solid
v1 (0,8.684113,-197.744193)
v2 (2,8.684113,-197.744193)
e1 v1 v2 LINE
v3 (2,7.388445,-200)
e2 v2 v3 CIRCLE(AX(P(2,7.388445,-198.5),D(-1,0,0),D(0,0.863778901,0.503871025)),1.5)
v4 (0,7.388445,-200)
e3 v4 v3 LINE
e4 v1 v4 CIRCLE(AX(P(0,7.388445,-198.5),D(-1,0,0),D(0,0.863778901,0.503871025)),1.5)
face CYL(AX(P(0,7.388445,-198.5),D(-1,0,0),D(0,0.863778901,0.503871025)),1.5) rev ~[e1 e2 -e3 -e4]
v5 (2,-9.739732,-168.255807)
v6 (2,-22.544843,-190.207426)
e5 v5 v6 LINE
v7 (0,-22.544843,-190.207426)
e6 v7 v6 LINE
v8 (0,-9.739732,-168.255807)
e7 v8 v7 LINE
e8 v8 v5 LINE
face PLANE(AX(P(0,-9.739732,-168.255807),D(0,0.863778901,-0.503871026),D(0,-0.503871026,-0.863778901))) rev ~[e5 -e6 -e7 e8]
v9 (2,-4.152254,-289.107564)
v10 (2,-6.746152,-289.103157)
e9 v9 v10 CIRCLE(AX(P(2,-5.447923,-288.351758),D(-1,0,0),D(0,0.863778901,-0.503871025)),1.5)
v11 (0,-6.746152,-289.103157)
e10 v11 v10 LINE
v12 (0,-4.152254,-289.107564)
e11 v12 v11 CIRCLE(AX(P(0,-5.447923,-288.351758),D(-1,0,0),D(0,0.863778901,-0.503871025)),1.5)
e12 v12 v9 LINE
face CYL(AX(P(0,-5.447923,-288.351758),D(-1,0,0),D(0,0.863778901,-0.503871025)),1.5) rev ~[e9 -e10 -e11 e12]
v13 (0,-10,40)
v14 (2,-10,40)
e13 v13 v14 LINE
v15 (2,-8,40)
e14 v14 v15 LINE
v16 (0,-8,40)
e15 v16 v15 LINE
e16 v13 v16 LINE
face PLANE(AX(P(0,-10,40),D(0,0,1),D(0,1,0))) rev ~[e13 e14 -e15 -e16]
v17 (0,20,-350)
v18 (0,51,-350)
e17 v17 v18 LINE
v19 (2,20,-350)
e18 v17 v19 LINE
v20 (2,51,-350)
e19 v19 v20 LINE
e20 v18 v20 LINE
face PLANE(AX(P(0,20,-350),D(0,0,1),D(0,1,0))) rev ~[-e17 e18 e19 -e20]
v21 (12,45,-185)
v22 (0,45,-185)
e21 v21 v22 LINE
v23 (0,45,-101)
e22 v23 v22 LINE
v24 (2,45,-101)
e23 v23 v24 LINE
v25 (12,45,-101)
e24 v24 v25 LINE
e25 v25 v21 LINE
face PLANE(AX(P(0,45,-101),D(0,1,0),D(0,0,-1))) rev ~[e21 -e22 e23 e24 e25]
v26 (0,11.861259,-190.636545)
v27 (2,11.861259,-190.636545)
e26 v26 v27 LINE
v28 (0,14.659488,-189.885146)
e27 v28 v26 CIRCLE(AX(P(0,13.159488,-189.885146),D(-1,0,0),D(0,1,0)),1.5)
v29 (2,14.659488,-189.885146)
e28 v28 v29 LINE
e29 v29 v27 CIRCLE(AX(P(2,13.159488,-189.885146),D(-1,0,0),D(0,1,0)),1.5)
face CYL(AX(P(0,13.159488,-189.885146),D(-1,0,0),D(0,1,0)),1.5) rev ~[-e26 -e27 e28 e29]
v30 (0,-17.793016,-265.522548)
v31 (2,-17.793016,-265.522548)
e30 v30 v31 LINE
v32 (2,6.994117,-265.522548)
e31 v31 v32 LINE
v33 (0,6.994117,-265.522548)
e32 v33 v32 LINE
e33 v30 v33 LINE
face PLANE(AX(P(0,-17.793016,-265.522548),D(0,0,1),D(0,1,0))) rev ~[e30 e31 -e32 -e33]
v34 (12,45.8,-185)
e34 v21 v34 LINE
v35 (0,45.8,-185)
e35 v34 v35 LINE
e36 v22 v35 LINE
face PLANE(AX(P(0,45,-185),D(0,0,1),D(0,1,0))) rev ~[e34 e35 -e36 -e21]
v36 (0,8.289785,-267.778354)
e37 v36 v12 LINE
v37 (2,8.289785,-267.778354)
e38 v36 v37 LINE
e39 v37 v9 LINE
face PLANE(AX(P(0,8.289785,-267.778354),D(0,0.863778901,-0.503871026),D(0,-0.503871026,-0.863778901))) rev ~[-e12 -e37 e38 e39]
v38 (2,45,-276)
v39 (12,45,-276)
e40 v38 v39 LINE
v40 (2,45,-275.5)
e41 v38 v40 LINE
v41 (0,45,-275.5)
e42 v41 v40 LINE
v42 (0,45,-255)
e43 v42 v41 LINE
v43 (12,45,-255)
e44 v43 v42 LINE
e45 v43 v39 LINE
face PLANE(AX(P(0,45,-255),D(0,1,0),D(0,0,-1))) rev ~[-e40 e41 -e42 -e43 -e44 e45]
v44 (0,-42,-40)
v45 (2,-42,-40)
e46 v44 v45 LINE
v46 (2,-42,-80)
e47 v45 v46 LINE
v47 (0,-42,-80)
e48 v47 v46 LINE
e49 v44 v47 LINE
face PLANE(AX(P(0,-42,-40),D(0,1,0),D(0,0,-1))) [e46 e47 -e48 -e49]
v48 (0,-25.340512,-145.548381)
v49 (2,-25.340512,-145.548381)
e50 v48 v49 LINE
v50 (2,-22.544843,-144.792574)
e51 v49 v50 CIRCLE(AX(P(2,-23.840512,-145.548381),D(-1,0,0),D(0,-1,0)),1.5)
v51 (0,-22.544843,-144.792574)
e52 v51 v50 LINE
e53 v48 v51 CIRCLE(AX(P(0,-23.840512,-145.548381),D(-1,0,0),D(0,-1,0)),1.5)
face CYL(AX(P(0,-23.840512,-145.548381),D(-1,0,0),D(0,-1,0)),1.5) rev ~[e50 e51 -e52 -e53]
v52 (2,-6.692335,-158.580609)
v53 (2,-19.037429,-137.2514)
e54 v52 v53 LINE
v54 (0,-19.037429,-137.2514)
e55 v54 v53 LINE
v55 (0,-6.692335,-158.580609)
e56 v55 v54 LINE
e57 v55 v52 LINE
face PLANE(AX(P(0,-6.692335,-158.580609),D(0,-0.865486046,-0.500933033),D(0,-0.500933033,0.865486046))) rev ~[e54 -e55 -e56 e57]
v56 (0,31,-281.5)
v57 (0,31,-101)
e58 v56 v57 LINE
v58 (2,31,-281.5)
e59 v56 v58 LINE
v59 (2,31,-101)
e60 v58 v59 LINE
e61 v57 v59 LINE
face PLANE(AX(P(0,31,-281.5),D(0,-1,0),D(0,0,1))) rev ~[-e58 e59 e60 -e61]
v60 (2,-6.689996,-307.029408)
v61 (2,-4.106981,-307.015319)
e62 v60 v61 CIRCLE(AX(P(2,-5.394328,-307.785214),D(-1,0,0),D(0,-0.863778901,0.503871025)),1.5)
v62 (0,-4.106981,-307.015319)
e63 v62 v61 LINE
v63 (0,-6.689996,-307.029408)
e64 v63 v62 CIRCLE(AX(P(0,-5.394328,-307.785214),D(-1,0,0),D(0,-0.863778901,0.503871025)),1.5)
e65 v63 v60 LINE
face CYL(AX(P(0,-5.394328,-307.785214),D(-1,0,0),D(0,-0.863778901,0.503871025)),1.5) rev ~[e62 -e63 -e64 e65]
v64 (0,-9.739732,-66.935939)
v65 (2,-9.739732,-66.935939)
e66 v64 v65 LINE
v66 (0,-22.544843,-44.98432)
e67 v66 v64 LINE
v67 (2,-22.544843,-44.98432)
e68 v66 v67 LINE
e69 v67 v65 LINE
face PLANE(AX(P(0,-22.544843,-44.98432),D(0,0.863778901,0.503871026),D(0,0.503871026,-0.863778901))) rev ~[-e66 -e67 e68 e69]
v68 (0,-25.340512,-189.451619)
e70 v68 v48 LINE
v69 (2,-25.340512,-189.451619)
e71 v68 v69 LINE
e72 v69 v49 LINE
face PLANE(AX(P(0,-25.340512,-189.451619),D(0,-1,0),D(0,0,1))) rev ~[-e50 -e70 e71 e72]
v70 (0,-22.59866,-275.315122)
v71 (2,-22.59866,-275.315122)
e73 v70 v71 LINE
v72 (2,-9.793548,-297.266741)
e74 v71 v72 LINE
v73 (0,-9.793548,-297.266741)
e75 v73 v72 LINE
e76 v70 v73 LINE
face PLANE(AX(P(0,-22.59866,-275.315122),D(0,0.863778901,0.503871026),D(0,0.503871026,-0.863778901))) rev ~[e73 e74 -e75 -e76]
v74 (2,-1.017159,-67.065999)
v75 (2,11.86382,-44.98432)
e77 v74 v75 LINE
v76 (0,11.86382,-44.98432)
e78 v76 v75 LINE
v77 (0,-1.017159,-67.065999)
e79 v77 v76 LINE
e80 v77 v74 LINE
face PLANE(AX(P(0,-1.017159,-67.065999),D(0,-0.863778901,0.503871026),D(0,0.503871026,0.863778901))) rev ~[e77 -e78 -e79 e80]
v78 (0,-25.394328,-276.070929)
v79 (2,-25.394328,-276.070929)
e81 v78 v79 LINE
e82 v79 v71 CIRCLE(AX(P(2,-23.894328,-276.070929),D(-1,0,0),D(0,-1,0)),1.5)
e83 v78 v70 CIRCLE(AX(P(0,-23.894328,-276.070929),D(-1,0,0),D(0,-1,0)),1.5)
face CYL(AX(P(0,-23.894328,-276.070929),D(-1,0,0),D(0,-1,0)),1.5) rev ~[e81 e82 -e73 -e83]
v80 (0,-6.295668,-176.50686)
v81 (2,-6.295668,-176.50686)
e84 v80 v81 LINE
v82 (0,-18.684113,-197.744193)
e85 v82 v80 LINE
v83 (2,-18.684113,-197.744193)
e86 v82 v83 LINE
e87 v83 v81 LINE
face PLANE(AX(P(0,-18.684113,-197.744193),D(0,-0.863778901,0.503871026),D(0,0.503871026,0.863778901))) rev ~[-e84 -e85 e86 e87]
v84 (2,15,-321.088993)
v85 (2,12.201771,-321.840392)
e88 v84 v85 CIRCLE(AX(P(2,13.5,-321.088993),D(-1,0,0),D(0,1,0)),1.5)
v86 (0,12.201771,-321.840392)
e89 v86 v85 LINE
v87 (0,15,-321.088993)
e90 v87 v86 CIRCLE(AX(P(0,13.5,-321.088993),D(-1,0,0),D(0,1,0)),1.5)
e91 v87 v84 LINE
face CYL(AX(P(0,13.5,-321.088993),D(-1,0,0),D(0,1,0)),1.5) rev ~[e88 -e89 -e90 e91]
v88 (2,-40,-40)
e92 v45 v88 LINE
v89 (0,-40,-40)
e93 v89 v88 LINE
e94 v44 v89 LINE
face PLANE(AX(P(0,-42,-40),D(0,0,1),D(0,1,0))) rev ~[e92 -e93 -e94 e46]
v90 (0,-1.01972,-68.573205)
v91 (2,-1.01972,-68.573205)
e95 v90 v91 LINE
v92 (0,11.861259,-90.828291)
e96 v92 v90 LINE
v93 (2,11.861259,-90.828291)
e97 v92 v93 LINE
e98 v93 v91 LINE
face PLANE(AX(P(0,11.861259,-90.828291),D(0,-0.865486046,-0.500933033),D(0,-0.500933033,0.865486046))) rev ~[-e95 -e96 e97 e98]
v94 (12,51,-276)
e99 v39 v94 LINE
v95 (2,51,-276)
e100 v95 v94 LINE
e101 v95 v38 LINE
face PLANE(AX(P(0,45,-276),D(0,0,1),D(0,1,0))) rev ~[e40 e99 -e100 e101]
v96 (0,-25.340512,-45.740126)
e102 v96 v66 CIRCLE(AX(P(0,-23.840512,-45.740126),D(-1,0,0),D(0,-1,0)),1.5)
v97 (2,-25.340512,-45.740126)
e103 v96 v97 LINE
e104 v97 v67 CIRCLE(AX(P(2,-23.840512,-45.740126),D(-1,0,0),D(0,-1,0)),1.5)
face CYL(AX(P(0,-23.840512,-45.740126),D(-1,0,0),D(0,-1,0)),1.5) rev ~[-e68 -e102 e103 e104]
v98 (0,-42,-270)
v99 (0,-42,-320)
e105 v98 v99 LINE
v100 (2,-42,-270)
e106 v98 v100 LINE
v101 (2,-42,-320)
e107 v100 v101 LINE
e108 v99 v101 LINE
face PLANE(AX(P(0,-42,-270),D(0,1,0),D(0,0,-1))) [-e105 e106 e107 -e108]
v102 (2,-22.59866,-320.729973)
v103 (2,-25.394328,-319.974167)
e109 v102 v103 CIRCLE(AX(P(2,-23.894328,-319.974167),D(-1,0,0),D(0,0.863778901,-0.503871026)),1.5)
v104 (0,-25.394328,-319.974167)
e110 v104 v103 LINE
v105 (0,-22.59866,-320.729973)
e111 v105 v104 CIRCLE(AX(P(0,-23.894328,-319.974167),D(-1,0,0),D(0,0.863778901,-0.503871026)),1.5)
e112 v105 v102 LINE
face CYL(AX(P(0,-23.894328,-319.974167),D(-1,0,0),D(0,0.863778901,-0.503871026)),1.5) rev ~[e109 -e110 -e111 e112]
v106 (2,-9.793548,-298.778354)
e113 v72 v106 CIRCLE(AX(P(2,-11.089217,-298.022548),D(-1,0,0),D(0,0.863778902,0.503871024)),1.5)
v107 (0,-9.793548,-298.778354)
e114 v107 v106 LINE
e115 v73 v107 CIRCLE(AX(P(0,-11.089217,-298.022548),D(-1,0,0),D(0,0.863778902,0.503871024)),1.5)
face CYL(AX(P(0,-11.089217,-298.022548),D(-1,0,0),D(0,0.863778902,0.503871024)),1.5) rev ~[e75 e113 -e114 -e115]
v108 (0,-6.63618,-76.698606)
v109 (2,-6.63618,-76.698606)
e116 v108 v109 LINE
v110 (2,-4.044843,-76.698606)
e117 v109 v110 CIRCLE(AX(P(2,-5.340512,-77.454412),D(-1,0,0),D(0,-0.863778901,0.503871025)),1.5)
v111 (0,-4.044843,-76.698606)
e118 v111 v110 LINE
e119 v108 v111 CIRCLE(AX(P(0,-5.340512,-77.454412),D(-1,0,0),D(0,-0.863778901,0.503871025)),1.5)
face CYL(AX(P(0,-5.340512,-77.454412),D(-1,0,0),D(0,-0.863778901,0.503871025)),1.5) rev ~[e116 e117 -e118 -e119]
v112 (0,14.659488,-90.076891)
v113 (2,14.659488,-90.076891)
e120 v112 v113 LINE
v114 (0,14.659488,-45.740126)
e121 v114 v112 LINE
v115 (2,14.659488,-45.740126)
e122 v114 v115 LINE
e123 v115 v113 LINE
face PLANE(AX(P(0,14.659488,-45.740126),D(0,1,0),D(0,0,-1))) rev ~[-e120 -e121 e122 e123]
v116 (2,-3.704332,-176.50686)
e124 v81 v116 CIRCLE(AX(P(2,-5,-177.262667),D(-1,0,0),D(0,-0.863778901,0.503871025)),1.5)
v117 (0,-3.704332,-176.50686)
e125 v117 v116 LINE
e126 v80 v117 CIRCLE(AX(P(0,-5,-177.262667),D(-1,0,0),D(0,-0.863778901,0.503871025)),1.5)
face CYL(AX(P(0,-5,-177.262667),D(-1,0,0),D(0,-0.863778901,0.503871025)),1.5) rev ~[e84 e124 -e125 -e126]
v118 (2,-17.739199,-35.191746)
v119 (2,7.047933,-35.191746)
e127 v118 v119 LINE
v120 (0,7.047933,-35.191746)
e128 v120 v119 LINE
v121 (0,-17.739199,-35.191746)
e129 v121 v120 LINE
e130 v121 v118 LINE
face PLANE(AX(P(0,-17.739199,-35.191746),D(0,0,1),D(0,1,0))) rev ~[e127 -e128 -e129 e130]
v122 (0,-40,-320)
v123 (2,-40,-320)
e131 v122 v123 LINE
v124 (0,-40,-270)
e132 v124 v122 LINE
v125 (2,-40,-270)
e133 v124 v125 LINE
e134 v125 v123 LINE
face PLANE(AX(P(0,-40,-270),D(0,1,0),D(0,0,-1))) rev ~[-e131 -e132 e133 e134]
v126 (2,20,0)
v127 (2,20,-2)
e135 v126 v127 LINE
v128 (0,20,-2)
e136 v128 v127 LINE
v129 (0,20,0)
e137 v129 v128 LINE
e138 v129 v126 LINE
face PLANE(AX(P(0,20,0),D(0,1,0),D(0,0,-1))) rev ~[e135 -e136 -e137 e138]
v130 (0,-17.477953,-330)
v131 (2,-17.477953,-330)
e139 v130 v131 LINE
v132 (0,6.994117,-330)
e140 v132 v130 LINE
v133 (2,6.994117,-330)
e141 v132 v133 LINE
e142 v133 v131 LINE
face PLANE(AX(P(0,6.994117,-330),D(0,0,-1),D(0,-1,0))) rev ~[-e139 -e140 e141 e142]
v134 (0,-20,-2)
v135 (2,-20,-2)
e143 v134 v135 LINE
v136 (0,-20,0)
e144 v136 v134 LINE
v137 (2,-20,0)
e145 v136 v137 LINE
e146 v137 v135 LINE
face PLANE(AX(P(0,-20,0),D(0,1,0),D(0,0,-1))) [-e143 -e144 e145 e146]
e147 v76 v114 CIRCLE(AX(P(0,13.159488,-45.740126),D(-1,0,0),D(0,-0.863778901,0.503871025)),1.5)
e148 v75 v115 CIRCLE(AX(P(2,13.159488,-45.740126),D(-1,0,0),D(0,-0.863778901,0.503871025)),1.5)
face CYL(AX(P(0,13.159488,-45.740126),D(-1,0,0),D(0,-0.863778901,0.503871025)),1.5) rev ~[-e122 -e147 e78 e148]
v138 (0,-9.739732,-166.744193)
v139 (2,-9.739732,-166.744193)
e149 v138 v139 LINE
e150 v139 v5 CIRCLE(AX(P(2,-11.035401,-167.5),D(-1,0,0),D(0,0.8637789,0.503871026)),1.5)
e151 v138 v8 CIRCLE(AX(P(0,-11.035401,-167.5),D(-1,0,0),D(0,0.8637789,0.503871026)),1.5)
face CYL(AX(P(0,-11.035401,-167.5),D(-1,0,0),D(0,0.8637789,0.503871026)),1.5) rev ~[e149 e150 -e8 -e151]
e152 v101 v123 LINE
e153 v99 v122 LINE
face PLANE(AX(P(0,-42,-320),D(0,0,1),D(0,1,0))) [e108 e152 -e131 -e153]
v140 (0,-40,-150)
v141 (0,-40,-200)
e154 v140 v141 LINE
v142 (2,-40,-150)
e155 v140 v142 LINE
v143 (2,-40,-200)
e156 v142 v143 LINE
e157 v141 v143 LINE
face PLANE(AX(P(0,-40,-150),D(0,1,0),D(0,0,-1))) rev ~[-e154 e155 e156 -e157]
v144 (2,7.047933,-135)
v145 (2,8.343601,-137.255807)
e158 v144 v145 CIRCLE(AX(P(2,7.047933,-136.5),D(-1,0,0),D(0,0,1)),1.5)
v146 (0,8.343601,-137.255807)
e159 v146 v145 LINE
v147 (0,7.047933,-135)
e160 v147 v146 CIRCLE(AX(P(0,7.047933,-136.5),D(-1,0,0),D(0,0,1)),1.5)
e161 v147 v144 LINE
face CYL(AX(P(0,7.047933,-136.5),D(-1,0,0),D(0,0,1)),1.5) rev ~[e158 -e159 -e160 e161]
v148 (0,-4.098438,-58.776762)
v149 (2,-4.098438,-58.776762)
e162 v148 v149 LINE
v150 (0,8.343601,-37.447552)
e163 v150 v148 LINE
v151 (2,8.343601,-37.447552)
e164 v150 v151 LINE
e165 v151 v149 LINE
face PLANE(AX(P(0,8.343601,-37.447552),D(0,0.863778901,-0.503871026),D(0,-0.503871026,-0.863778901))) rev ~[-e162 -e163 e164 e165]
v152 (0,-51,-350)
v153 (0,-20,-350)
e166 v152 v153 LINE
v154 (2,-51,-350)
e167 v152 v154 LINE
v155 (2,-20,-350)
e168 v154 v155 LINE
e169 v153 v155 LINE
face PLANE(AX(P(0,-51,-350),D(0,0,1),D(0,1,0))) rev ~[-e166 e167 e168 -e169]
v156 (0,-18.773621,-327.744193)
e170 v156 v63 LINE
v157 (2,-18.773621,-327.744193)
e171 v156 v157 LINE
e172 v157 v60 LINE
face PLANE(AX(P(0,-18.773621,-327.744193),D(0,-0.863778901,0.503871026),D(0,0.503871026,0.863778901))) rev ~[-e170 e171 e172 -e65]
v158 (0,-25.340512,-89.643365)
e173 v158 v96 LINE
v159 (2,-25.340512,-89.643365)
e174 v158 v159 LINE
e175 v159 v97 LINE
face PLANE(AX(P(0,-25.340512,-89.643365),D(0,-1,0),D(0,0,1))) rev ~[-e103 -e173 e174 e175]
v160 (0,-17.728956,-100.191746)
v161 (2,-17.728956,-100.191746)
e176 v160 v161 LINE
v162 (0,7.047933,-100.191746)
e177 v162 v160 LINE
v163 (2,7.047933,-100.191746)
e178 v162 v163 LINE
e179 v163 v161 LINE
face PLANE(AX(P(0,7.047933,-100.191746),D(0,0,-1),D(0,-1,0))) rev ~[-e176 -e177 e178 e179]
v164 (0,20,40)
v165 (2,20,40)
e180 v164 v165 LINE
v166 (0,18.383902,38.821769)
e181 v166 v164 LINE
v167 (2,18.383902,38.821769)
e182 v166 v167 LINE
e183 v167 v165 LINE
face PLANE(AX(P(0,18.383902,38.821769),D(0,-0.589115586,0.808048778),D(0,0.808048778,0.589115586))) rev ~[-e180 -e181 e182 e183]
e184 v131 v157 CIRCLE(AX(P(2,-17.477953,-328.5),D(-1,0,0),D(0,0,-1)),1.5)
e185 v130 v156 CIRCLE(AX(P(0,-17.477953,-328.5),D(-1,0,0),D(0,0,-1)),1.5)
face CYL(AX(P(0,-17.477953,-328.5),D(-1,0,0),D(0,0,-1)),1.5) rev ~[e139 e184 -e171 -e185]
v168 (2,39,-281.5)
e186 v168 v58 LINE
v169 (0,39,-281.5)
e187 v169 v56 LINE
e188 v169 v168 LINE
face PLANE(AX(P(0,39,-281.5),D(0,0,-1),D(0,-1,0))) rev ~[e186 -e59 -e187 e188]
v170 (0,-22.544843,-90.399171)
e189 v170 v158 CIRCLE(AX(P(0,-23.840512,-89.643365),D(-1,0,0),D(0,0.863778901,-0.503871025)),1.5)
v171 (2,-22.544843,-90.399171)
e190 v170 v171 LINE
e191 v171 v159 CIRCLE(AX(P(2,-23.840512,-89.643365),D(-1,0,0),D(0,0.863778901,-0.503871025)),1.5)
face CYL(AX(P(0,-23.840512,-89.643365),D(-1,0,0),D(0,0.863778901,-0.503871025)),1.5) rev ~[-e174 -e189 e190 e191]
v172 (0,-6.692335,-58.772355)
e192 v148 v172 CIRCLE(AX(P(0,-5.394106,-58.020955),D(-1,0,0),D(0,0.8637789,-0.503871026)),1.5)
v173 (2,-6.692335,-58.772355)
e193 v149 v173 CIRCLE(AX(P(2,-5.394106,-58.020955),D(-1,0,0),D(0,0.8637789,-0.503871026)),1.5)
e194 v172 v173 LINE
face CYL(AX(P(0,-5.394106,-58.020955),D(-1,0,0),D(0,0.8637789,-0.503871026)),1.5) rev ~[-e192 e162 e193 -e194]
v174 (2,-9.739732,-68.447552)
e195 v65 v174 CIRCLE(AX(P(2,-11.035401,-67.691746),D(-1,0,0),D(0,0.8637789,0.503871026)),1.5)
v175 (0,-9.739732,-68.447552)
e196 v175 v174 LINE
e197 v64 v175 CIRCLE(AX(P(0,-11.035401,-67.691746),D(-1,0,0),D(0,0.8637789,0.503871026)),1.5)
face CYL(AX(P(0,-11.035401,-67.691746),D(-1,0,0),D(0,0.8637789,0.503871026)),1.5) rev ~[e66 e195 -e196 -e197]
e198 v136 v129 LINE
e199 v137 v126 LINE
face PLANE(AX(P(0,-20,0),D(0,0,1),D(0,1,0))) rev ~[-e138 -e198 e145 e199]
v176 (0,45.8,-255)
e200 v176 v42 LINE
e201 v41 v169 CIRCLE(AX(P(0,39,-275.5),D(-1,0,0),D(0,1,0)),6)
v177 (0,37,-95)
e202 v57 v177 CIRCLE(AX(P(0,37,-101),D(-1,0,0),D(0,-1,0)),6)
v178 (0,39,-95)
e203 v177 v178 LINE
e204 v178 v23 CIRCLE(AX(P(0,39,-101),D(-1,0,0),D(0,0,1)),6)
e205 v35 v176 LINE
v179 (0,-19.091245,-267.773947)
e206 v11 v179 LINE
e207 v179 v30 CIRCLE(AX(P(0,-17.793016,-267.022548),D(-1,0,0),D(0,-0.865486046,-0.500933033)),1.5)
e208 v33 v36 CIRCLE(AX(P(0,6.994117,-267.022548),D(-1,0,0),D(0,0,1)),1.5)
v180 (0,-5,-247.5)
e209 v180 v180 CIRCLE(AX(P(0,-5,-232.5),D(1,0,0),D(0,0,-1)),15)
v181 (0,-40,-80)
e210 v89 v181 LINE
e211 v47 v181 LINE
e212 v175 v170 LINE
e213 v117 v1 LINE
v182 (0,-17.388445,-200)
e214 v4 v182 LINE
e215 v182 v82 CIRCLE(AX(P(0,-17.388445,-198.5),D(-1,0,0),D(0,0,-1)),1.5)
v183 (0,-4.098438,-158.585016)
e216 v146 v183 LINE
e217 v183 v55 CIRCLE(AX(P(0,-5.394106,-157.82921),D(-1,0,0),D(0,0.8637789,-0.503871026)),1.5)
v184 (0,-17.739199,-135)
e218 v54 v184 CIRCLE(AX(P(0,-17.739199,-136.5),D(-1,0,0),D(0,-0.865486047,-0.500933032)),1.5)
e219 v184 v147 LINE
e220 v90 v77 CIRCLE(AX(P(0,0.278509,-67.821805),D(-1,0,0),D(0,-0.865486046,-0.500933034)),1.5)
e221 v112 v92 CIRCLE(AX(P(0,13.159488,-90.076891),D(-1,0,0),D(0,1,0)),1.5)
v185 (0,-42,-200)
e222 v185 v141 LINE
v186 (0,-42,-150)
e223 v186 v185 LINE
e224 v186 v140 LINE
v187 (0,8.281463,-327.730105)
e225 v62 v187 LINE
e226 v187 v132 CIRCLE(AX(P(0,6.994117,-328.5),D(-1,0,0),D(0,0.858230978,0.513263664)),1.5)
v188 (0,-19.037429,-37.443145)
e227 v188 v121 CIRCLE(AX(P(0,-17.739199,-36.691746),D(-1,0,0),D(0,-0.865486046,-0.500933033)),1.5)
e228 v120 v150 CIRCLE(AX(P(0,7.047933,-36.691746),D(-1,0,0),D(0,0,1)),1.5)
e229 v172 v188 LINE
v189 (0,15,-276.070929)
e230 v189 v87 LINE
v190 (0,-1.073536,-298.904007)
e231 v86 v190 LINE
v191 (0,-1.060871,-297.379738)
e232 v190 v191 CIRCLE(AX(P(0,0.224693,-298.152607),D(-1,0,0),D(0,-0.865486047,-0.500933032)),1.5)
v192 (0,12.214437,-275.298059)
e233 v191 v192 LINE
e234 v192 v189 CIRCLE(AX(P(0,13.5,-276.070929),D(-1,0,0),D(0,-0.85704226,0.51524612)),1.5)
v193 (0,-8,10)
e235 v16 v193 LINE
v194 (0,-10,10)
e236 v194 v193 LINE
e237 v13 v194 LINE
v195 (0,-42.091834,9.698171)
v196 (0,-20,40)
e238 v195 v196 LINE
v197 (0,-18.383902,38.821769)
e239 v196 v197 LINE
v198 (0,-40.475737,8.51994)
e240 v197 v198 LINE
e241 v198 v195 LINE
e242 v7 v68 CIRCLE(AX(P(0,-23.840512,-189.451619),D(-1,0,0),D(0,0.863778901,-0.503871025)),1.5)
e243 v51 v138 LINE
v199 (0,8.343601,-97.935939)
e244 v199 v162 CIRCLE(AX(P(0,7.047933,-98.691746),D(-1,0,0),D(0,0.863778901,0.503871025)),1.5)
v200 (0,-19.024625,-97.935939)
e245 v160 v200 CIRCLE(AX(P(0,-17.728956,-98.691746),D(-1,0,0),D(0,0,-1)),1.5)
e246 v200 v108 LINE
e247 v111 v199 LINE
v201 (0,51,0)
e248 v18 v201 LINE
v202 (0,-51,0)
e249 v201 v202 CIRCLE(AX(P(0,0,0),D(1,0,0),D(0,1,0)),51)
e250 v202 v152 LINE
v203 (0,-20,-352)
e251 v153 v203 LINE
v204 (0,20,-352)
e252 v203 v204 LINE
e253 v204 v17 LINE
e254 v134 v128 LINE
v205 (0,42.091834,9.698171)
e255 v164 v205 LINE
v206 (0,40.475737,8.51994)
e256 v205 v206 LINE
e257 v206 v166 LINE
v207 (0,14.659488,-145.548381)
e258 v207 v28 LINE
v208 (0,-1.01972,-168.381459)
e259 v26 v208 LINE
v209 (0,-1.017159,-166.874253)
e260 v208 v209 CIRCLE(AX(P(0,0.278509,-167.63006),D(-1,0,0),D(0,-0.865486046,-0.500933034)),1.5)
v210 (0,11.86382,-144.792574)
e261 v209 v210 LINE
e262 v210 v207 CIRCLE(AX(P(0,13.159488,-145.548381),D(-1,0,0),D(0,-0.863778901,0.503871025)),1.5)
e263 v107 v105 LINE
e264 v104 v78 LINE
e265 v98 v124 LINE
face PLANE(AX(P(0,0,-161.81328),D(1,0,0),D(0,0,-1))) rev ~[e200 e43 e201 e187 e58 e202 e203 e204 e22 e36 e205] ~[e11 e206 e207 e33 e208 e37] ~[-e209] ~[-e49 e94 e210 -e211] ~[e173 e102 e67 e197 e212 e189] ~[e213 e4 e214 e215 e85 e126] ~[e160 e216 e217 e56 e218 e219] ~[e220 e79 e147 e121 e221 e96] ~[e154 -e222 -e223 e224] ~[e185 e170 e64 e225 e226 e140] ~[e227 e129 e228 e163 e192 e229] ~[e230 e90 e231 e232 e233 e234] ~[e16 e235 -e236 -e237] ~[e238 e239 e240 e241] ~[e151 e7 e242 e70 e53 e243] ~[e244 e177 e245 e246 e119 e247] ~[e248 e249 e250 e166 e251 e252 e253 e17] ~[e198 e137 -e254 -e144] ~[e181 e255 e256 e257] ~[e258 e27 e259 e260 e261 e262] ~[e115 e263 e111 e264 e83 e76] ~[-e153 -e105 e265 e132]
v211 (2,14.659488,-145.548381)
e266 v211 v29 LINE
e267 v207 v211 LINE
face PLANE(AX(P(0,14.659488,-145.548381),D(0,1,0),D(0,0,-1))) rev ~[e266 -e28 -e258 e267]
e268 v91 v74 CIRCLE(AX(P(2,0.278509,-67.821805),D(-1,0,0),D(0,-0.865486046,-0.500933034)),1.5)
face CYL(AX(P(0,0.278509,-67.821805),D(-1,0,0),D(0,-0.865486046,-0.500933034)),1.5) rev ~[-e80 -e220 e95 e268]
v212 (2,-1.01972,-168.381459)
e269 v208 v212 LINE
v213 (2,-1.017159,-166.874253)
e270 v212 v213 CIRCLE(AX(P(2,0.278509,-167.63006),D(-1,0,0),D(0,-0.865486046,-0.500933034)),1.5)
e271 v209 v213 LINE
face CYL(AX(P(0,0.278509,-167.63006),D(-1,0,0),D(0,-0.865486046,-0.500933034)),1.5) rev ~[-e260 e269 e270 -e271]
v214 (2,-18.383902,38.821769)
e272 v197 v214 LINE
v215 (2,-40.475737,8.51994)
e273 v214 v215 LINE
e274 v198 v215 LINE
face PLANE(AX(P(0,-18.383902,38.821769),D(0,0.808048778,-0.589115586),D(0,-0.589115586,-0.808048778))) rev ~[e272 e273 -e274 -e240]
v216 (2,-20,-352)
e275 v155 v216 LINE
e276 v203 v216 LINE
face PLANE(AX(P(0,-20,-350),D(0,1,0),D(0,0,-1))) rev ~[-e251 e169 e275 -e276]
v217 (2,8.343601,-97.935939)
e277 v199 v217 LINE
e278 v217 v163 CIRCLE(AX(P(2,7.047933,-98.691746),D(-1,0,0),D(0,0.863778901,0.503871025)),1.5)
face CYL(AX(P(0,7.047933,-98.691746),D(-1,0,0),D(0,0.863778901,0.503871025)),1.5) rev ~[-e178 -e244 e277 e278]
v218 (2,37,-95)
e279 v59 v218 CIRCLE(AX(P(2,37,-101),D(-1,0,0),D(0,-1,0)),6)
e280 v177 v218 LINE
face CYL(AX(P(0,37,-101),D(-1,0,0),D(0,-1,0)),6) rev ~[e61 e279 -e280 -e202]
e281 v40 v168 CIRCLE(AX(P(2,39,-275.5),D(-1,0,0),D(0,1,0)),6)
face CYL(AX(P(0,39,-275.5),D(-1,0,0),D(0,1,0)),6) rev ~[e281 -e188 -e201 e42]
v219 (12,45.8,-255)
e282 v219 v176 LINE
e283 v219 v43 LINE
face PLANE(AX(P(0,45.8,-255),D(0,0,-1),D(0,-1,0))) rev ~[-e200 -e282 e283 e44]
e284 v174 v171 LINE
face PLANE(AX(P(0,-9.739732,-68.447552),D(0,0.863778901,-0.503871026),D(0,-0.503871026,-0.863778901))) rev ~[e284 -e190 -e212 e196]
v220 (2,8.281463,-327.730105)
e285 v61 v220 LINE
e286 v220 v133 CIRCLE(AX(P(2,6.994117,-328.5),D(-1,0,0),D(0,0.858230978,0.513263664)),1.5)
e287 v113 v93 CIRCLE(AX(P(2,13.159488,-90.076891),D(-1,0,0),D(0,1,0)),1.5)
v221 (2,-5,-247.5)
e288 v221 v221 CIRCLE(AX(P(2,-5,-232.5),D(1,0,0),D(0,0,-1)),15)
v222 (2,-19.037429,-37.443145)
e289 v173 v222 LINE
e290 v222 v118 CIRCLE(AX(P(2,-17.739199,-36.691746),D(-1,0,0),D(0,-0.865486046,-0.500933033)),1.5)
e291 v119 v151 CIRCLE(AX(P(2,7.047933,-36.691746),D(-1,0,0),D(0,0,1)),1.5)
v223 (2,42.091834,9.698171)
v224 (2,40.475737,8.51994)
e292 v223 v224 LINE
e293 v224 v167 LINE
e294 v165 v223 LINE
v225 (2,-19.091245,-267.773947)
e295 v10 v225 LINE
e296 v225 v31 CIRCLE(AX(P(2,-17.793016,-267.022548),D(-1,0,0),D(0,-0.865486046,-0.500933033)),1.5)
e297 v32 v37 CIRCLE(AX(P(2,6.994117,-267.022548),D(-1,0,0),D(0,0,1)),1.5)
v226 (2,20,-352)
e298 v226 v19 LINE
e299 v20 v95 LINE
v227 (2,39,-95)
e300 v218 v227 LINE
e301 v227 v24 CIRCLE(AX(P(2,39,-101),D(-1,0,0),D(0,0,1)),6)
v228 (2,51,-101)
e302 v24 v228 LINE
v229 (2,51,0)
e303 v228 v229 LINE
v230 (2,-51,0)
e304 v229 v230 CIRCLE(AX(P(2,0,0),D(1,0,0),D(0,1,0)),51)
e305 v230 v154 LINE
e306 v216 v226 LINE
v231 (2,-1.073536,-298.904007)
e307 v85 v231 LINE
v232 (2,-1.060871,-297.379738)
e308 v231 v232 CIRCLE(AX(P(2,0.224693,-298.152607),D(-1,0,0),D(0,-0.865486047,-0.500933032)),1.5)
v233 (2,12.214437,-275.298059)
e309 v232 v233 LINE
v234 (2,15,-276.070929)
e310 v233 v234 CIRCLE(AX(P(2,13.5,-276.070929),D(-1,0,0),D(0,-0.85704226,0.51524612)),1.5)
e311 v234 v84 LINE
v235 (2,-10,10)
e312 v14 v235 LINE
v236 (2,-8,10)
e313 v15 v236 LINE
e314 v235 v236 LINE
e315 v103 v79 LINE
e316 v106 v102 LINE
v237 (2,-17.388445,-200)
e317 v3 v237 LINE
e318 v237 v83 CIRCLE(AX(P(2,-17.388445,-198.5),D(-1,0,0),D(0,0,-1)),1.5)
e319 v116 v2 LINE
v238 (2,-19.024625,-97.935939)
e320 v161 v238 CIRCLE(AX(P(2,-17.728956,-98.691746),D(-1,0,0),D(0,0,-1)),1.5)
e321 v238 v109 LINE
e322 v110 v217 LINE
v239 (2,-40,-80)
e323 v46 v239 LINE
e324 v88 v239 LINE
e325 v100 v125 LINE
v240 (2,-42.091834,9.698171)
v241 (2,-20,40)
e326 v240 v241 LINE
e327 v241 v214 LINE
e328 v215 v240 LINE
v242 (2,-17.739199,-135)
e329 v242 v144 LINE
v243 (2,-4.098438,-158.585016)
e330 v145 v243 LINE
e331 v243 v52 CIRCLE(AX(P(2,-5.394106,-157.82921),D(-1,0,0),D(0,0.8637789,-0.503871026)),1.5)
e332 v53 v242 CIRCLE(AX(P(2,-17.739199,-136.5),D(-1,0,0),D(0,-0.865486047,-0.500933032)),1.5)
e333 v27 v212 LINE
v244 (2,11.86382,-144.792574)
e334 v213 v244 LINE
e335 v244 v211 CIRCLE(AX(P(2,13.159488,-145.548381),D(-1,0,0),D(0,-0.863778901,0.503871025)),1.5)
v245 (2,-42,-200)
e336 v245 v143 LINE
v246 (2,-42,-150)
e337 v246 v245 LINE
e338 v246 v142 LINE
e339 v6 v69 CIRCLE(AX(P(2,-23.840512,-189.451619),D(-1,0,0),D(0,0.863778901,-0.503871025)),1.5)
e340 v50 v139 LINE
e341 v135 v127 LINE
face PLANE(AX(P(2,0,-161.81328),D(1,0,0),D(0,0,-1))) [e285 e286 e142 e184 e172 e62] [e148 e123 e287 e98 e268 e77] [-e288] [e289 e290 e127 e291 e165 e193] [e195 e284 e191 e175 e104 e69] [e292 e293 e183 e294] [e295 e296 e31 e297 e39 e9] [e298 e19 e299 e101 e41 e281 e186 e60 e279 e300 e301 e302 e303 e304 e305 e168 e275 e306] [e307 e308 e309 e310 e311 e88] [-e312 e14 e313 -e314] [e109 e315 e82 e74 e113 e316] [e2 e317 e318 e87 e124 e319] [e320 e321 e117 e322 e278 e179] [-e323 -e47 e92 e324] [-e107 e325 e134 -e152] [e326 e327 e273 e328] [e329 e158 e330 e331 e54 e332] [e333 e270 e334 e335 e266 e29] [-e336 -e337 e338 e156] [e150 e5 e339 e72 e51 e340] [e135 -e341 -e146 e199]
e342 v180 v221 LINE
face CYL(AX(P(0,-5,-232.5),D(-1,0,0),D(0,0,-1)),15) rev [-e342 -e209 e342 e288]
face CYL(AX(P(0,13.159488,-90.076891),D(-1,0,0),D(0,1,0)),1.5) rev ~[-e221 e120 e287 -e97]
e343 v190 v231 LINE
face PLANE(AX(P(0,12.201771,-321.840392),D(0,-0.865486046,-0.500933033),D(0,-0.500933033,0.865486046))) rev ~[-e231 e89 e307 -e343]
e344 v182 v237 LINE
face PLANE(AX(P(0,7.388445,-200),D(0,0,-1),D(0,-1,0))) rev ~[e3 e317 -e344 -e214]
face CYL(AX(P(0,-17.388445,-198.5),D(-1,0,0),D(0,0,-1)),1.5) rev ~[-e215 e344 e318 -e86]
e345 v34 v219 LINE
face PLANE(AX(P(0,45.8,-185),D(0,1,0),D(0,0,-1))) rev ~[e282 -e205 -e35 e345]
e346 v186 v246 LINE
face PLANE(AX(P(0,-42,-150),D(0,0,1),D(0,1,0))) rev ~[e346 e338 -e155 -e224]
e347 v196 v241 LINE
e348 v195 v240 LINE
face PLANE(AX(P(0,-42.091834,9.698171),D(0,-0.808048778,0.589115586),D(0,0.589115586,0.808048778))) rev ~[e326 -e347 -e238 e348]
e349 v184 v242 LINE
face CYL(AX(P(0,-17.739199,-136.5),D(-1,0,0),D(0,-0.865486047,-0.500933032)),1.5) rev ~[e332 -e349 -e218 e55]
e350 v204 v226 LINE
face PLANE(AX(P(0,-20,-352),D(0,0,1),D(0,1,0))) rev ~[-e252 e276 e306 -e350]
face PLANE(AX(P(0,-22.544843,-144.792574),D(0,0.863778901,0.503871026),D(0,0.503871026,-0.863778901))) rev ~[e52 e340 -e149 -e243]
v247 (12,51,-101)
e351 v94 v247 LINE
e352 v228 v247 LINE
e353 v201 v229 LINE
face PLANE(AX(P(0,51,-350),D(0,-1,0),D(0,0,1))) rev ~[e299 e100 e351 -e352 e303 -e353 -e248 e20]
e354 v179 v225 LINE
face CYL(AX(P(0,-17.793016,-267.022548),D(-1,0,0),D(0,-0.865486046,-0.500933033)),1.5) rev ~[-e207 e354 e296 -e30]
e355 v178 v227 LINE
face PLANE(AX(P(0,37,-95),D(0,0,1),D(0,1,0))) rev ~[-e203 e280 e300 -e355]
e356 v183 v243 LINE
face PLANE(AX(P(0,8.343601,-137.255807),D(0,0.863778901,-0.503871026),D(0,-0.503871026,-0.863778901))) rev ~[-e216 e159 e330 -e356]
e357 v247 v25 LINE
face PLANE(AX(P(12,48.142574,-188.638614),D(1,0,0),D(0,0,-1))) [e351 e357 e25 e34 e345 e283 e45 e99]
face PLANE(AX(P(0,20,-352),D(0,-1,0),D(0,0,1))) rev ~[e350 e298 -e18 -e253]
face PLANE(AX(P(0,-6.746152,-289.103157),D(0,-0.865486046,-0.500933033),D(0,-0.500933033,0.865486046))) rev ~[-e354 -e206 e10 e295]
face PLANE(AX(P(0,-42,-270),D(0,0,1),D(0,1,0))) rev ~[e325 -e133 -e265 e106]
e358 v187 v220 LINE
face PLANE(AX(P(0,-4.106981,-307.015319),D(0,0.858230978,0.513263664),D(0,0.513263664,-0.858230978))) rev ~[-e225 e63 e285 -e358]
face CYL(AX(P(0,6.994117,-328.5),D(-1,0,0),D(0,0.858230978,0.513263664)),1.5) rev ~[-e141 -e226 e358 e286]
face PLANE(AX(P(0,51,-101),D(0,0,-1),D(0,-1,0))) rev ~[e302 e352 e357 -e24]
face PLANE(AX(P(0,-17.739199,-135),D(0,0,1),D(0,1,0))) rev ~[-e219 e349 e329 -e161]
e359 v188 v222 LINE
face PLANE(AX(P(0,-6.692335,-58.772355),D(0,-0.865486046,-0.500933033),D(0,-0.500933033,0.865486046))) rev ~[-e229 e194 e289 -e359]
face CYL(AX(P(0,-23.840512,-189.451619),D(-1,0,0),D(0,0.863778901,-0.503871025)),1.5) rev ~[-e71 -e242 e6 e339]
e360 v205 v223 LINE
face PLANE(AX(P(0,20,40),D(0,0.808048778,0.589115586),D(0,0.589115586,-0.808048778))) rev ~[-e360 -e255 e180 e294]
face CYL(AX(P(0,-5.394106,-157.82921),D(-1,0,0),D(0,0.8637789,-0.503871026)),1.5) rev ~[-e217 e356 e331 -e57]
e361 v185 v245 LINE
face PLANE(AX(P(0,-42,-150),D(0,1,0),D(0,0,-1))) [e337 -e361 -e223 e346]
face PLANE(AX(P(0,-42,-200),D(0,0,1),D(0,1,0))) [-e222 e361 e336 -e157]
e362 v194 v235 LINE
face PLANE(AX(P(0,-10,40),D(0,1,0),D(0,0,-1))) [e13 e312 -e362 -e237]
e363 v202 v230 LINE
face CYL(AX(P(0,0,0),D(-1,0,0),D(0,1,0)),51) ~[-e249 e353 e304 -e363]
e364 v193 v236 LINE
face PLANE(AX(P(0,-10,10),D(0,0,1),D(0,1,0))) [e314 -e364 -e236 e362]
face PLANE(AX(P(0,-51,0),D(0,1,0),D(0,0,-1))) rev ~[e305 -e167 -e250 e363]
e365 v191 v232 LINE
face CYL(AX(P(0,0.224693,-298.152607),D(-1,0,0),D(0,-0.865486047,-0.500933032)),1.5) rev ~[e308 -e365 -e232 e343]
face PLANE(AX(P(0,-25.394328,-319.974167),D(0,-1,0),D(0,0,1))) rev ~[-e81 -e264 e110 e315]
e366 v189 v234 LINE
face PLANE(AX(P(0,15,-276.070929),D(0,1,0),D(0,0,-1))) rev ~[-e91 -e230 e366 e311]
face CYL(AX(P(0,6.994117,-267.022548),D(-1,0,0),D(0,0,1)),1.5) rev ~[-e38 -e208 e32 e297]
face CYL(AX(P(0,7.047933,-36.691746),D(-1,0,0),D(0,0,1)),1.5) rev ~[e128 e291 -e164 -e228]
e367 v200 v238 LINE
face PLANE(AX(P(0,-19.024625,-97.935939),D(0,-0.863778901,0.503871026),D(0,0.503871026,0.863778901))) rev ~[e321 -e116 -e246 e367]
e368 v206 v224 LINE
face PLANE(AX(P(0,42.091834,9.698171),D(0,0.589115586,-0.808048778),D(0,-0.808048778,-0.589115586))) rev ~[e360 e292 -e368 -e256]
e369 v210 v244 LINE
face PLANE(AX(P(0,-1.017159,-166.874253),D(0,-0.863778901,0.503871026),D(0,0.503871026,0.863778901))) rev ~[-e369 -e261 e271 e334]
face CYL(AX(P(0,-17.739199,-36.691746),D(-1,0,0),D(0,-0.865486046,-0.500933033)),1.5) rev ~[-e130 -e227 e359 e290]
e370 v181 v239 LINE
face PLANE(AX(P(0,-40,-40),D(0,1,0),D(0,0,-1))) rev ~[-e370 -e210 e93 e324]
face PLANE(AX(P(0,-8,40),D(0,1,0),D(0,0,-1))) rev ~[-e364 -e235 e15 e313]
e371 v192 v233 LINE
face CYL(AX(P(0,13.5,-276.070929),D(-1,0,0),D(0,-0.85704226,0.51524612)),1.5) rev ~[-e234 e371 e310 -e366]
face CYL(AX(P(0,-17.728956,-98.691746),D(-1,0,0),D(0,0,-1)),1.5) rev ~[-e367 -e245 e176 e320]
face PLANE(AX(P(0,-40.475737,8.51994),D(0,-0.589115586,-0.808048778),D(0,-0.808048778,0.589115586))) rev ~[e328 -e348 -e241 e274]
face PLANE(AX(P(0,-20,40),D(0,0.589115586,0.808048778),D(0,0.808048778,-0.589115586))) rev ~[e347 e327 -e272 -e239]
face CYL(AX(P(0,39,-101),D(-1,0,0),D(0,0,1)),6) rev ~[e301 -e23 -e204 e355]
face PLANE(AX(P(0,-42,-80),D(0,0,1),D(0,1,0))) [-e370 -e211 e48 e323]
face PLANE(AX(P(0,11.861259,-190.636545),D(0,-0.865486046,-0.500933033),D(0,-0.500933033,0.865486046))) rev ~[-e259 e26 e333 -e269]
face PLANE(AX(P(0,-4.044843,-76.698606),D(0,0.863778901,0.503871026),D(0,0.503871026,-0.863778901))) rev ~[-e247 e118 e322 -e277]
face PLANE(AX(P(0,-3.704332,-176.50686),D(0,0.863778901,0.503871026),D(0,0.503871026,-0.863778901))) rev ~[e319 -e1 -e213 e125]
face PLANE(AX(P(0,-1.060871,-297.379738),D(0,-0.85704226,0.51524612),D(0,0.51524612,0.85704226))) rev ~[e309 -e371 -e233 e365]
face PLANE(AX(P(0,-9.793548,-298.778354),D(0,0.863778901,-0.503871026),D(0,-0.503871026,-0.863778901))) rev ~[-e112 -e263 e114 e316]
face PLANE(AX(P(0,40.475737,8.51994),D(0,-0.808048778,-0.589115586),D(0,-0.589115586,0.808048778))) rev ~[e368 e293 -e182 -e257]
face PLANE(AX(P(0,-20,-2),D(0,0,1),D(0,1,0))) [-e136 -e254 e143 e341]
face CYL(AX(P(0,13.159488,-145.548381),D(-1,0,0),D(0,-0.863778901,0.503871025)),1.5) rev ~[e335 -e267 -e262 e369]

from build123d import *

# Parameters (mm, degrees)
SKETCH_1_W      = 2
SKETCH_1_H      = 40
SKETCH_1_W_2    = 40
SKETCH_1_H_2    = 2
SKETCH_1_W_3    = 50
SKETCH_1_R      = 15
SKETCH_1_W_4    = 30
EXTRUDE_3_DEPTH = 2
EXTRUDE_4_DEPTH = 12


with BuildPart() as part:
    # 草图1 → 凸台-拉伸3 (new body)
    with BuildSketch(Plane(origin=(0, 0, 0), x_dir=(0, 0, -1), z_dir=(1, 0, 0))):
        with BuildLine():
            ThreePointArc((0, 51), (-51, 0), (0, -51))
            Line((0, -51), (350, -51))
            Line((350, -51), (350, -20))
            Line((350, -20), (352, -20))
            Line((352, -20), (352, 20))
            Line((352, 20), (350, 20))
            Line((350, 20), (350, 51))
            Line((350, 51), (0, 51))
        make_face()
        with Locations((1, 0)):
            Rectangle(SKETCH_1_W, SKETCH_1_H, mode=Mode.SUBTRACT)
        with Locations((60, -41)):
            Rectangle(SKETCH_1_W_2, SKETCH_1_H_2, mode=Mode.SUBTRACT)
        with BuildLine():
            Line((35.191745563, -17.73919947), (35.191745563, 7.047932671))
            ThreePointArc((35.191745563, 7.047932671), (35.944654473, 8.3486459), (37.447552101, 8.343601023))
            Line((37.447552101, 8.343601023), (58.776761956, -4.098438059))
            ThreePointArc((58.776761956, -4.098438059), (59.520953252, -5.396654882), (58.772354967, -6.69233548))
            Line((58.772354967, -6.69233548), (37.443145112, -19.03742854))
            ThreePointArc((37.443145112, -19.03742854), (35.942445664, -19.038641528), (35.191745563, -17.73919947))
        make_face(mode=Mode.SUBTRACT)
        with BuildLine():
            Line((89.643364708, -25.34051183), (45.740126418, -25.34051183))
            ThreePointArc((45.740126418, -25.34051183), (44.292110098, -24.231981799), (44.98431988, -22.544843479))
            Line((44.98431988, -22.544843479), (66.935939025, -9.739732311))
            ThreePointArc((66.935939025, -9.739732311), (67.691745563, -9.535400662), (68.447552101, -9.739732311))
            Line((68.447552101, -9.739732311), (90.399171246, -22.544843479))
            ThreePointArc((90.399171246, -22.544843479), (91.091381028, -24.231981799), (89.643364708, -25.34051183))
        make_face(mode=Mode.SUBTRACT)
        with BuildLine():
            ThreePointArc((97.935939025, 8.343601023), (99.438836653, 8.3486459), (100.191745563, 7.047932671))
            Line((100.191745563, 7.047932671), (100.191745563, -17.728956331))
            ThreePointArc((100.191745563, -17.728956331), (99.438836653, -19.02966956), (97.935939025, -19.024624683))
            Line((97.935939025, -19.024624683), (76.698605594, -6.636180181))
            ThreePointArc((76.698605594, -6.636180181), (75.954412132, -5.34051183), (76.698605594, -4.044843479))
            Line((76.698605594, -4.044843479), (97.935939025, 8.343601023))
        make_face(mode=Mode.SUBTRACT)
        with BuildLine():
            Line((135, -17.73919947), (135, 7.047932671))
            ThreePointArc((135, 7.047932671), (135.75290891, 8.3486459), (137.255806538, 8.343601023))
            Line((137.255806538, 8.343601023), (158.585016393, -4.098438059))
            ThreePointArc((158.585016393, -4.098438059), (159.329207689, -5.396654882), (158.580609404, -6.69233548))
            Line((158.580609404, -6.69233548), (137.25139955, -19.03742854))
            ThreePointArc((137.25139955, -19.03742854), (135.750700102, -19.038641528), (135, -17.73919947))
        make_face(mode=Mode.SUBTRACT)
        with Locations((175, -41)):
            Rectangle(SKETCH_1_W_3, SKETCH_1_H_2, mode=Mode.SUBTRACT)
        with Locations((295, -41)):
            Rectangle(SKETCH_1_W_3, SKETCH_1_H_2, mode=Mode.SUBTRACT)
        with BuildLine():
            Line((189.451619145, -25.34051183), (145.548380855, -25.34051183))
            ThreePointArc((145.548380855, -25.34051183), (144.100364535, -24.231981799), (144.792574317, -22.544843479))
            Line((144.792574317, -22.544843479), (166.744193462, -9.739732311))
            ThreePointArc((166.744193462, -9.739732311), (167.5, -9.535400662), (168.255806538, -9.739732311))
            Line((168.255806538, -9.739732311), (190.207425683, -22.544843479))
            ThreePointArc((190.207425683, -22.544843479), (190.899635465, -24.231981799), (189.451619145, -25.34051183))
        make_face(mode=Mode.SUBTRACT)
        with BuildLine():
            ThreePointArc((197.744193462, 8.684112853), (199.24709109, 8.68915773), (200, 7.388444501))
            Line((200, 7.388444501), (200, -17.388444501))
            ThreePointArc((200, -17.388444501), (199.24709109, -18.68915773), (197.744193462, -18.684112853))
            Line((197.744193462, -18.684112853), (176.506860031, -6.295668351))
            ThreePointArc((176.506860031, -6.295668351), (175.762666569, -5), (176.506860031, -3.704331649))
            Line((176.506860031, -3.704331649), (197.744193462, 8.684112853))
        make_face(mode=Mode.SUBTRACT)
        with Locations((232.5, -5)):
            Circle(SKETCH_1_R, mode=Mode.SUBTRACT)
        with BuildLine():
            Line((319.974166797, -25.394327939), (276.070928507, -25.394327939))
            ThreePointArc((276.070928507, -25.394327939), (274.622912187, -24.285797907), (275.315121969, -22.598659587))
            Line((275.315121969, -22.598659587), (297.266741114, -9.793548419))
            ThreePointArc((297.266741114, -9.793548419), (298.022547652, -9.589216771), (298.778354191, -9.793548419))
            Line((298.778354191, -9.793548419), (320.729973336, -22.598659587))
            ThreePointArc((320.729973336, -22.598659587), (321.422183118, -24.285797907), (319.974166797, -25.394327939))
        make_face(mode=Mode.SUBTRACT)
        with BuildLine():
            Line((265.522547652, -17.793015579), (265.522547652, 6.994116563))
            ThreePointArc((265.522547652, 6.994116563), (266.275456563, 8.294829792), (267.778354191, 8.289784914))
            Line((267.778354191, 8.289784914), (289.107564045, -4.152254168))
            ThreePointArc((289.107564045, -4.152254168), (289.851755342, -5.45047099), (289.103157056, -6.746151588))
            Line((289.103157056, -6.746151588), (267.773947202, -19.091244648))
            ThreePointArc((267.773947202, -19.091244648), (266.273247754, -19.092457637), (265.522547652, -17.793015579))
        make_face(mode=Mode.SUBTRACT)
        with BuildLine():
            ThreePointArc((327.730104505, 8.28146303), (329.239985391, 8.298885363), (330, 6.994116563))
            Line((330, 6.994116563), (330, -17.477952976))
            ThreePointArc((330, -17.477952976), (329.24709109, -18.778666205), (327.744193462, -18.773621327))
            Line((327.744193462, -18.773621327), (307.029407683, -6.68999629))
            ThreePointArc((307.029407683, -6.68999629), (306.285236534, -5.40250951), (307.015318726, -4.106981472))
            Line((307.015318726, -4.106981472), (327.730104505, 8.28146303))
        make_face(mode=Mode.SUBTRACT)
        with BuildLine():
            ThreePointArc((44.98431988, 11.863819819), (44.292110098, 13.550958139), (45.740126418, 14.65948817))
            Line((45.740126418, 14.65948817), (90.076891362, 14.65948817))
            ThreePointArc((90.076891362, 14.65948817), (91.525570692, 13.548497422), (90.828290911, 11.861259101))
            Line((90.828290911, 11.861259101), (68.573204722, -1.019720173))
            ThreePointArc((68.573204722, -1.019720173), (67.819256701, -1.221488939), (67.065998635, -1.017159455))
            Line((67.065998635, -1.017159455), (44.98431988, 11.863819819))
        make_face(mode=Mode.SUBTRACT)
        with BuildLine():
            ThreePointArc((144.792574317, 11.863819819), (144.100364535, 13.550958139), (145.548380855, 14.65948817))
            Line((145.548380855, 14.65948817), (189.885145799, 14.65948817))
            ThreePointArc((189.885145799, 14.65948817), (191.333825129, 13.548497422), (190.636545348, 11.861259101))
            Line((190.636545348, 11.861259101), (168.381459159, -1.019720173))
            ThreePointArc((168.381459159, -1.019720173), (167.627511138, -1.221488939), (166.874253072, -1.017159455))
            Line((166.874253072, -1.017159455), (144.792574317, 11.863819819))
        make_face(mode=Mode.SUBTRACT)
        with BuildLine():
            ThreePointArc((275.298059327, 12.21443661), (274.625531488, 13.901032988), (276.070928507, 15))
            Line((276.070928507, 15), (321.088992758, 15))
            ThreePointArc((321.088992758, 15), (322.537672089, 13.889009252), (321.840392308, 12.20177093))
            Line((321.840392308, 12.20177093), (298.904006812, -1.073536282))
            ThreePointArc((298.904006812, -1.073536282), (298.140143671, -1.275255431), (297.379738082, -1.060870603))
            Line((297.379738082, -1.060870603), (275.298059327, 12.21443661))
        make_face(mode=Mode.SUBTRACT)
        with BuildLine():
            Line((95, 37), (95, 39))
            ThreePointArc((95, 39), (96.757359313, 43.242640687), (101, 45))
            Line((101, 45), (185, 45))
            Line((185, 45), (185, 45.8))
            Line((185, 45.8), (255, 45.8))
            Line((255, 45.8), (255, 45))
            Line((255, 45), (275.5, 45))
            ThreePointArc((275.5, 45), (279.742640687, 43.242640687), (281.5, 39))
            Line((281.5, 39), (281.5, 31))
            Line((281.5, 31), (101, 31))
            ThreePointArc((101, 31), (96.757359313, 32.757359313), (95, 37))
        make_face(mode=Mode.SUBTRACT)
        Polygon((-40, 20), (-9.698170842, 42.091834457), (-8.519939671, 40.475736902), (-38.821768829, 18.383902445), align=None, mode=Mode.SUBTRACT)
        with Locations((-25, -9)):
            Rectangle(SKETCH_1_W_4, SKETCH_1_H_2, mode=Mode.SUBTRACT)
        Polygon((-40, -20), (-38.821768829, -18.383902445), (-8.519939671, -40.475736902), (-9.698170842, -42.091834457), align=None, mode=Mode.SUBTRACT)
    extrude(amount=EXTRUDE_3_DEPTH)

    # 草图2 → 凸台-拉伸4 (add)
    with BuildSketch(Plane(origin=(0, 0, 0), x_dir=(0, 0, -1), z_dir=(1, 0, 0))):
        Polygon((101, 51), (101, 45), (185, 45), (185, 45.8), (255, 45.8), (255, 45), (276, 45), (276, 51), align=None)
    extrude(amount=EXTRUDE_4_DEPTH)


solid = part.part
